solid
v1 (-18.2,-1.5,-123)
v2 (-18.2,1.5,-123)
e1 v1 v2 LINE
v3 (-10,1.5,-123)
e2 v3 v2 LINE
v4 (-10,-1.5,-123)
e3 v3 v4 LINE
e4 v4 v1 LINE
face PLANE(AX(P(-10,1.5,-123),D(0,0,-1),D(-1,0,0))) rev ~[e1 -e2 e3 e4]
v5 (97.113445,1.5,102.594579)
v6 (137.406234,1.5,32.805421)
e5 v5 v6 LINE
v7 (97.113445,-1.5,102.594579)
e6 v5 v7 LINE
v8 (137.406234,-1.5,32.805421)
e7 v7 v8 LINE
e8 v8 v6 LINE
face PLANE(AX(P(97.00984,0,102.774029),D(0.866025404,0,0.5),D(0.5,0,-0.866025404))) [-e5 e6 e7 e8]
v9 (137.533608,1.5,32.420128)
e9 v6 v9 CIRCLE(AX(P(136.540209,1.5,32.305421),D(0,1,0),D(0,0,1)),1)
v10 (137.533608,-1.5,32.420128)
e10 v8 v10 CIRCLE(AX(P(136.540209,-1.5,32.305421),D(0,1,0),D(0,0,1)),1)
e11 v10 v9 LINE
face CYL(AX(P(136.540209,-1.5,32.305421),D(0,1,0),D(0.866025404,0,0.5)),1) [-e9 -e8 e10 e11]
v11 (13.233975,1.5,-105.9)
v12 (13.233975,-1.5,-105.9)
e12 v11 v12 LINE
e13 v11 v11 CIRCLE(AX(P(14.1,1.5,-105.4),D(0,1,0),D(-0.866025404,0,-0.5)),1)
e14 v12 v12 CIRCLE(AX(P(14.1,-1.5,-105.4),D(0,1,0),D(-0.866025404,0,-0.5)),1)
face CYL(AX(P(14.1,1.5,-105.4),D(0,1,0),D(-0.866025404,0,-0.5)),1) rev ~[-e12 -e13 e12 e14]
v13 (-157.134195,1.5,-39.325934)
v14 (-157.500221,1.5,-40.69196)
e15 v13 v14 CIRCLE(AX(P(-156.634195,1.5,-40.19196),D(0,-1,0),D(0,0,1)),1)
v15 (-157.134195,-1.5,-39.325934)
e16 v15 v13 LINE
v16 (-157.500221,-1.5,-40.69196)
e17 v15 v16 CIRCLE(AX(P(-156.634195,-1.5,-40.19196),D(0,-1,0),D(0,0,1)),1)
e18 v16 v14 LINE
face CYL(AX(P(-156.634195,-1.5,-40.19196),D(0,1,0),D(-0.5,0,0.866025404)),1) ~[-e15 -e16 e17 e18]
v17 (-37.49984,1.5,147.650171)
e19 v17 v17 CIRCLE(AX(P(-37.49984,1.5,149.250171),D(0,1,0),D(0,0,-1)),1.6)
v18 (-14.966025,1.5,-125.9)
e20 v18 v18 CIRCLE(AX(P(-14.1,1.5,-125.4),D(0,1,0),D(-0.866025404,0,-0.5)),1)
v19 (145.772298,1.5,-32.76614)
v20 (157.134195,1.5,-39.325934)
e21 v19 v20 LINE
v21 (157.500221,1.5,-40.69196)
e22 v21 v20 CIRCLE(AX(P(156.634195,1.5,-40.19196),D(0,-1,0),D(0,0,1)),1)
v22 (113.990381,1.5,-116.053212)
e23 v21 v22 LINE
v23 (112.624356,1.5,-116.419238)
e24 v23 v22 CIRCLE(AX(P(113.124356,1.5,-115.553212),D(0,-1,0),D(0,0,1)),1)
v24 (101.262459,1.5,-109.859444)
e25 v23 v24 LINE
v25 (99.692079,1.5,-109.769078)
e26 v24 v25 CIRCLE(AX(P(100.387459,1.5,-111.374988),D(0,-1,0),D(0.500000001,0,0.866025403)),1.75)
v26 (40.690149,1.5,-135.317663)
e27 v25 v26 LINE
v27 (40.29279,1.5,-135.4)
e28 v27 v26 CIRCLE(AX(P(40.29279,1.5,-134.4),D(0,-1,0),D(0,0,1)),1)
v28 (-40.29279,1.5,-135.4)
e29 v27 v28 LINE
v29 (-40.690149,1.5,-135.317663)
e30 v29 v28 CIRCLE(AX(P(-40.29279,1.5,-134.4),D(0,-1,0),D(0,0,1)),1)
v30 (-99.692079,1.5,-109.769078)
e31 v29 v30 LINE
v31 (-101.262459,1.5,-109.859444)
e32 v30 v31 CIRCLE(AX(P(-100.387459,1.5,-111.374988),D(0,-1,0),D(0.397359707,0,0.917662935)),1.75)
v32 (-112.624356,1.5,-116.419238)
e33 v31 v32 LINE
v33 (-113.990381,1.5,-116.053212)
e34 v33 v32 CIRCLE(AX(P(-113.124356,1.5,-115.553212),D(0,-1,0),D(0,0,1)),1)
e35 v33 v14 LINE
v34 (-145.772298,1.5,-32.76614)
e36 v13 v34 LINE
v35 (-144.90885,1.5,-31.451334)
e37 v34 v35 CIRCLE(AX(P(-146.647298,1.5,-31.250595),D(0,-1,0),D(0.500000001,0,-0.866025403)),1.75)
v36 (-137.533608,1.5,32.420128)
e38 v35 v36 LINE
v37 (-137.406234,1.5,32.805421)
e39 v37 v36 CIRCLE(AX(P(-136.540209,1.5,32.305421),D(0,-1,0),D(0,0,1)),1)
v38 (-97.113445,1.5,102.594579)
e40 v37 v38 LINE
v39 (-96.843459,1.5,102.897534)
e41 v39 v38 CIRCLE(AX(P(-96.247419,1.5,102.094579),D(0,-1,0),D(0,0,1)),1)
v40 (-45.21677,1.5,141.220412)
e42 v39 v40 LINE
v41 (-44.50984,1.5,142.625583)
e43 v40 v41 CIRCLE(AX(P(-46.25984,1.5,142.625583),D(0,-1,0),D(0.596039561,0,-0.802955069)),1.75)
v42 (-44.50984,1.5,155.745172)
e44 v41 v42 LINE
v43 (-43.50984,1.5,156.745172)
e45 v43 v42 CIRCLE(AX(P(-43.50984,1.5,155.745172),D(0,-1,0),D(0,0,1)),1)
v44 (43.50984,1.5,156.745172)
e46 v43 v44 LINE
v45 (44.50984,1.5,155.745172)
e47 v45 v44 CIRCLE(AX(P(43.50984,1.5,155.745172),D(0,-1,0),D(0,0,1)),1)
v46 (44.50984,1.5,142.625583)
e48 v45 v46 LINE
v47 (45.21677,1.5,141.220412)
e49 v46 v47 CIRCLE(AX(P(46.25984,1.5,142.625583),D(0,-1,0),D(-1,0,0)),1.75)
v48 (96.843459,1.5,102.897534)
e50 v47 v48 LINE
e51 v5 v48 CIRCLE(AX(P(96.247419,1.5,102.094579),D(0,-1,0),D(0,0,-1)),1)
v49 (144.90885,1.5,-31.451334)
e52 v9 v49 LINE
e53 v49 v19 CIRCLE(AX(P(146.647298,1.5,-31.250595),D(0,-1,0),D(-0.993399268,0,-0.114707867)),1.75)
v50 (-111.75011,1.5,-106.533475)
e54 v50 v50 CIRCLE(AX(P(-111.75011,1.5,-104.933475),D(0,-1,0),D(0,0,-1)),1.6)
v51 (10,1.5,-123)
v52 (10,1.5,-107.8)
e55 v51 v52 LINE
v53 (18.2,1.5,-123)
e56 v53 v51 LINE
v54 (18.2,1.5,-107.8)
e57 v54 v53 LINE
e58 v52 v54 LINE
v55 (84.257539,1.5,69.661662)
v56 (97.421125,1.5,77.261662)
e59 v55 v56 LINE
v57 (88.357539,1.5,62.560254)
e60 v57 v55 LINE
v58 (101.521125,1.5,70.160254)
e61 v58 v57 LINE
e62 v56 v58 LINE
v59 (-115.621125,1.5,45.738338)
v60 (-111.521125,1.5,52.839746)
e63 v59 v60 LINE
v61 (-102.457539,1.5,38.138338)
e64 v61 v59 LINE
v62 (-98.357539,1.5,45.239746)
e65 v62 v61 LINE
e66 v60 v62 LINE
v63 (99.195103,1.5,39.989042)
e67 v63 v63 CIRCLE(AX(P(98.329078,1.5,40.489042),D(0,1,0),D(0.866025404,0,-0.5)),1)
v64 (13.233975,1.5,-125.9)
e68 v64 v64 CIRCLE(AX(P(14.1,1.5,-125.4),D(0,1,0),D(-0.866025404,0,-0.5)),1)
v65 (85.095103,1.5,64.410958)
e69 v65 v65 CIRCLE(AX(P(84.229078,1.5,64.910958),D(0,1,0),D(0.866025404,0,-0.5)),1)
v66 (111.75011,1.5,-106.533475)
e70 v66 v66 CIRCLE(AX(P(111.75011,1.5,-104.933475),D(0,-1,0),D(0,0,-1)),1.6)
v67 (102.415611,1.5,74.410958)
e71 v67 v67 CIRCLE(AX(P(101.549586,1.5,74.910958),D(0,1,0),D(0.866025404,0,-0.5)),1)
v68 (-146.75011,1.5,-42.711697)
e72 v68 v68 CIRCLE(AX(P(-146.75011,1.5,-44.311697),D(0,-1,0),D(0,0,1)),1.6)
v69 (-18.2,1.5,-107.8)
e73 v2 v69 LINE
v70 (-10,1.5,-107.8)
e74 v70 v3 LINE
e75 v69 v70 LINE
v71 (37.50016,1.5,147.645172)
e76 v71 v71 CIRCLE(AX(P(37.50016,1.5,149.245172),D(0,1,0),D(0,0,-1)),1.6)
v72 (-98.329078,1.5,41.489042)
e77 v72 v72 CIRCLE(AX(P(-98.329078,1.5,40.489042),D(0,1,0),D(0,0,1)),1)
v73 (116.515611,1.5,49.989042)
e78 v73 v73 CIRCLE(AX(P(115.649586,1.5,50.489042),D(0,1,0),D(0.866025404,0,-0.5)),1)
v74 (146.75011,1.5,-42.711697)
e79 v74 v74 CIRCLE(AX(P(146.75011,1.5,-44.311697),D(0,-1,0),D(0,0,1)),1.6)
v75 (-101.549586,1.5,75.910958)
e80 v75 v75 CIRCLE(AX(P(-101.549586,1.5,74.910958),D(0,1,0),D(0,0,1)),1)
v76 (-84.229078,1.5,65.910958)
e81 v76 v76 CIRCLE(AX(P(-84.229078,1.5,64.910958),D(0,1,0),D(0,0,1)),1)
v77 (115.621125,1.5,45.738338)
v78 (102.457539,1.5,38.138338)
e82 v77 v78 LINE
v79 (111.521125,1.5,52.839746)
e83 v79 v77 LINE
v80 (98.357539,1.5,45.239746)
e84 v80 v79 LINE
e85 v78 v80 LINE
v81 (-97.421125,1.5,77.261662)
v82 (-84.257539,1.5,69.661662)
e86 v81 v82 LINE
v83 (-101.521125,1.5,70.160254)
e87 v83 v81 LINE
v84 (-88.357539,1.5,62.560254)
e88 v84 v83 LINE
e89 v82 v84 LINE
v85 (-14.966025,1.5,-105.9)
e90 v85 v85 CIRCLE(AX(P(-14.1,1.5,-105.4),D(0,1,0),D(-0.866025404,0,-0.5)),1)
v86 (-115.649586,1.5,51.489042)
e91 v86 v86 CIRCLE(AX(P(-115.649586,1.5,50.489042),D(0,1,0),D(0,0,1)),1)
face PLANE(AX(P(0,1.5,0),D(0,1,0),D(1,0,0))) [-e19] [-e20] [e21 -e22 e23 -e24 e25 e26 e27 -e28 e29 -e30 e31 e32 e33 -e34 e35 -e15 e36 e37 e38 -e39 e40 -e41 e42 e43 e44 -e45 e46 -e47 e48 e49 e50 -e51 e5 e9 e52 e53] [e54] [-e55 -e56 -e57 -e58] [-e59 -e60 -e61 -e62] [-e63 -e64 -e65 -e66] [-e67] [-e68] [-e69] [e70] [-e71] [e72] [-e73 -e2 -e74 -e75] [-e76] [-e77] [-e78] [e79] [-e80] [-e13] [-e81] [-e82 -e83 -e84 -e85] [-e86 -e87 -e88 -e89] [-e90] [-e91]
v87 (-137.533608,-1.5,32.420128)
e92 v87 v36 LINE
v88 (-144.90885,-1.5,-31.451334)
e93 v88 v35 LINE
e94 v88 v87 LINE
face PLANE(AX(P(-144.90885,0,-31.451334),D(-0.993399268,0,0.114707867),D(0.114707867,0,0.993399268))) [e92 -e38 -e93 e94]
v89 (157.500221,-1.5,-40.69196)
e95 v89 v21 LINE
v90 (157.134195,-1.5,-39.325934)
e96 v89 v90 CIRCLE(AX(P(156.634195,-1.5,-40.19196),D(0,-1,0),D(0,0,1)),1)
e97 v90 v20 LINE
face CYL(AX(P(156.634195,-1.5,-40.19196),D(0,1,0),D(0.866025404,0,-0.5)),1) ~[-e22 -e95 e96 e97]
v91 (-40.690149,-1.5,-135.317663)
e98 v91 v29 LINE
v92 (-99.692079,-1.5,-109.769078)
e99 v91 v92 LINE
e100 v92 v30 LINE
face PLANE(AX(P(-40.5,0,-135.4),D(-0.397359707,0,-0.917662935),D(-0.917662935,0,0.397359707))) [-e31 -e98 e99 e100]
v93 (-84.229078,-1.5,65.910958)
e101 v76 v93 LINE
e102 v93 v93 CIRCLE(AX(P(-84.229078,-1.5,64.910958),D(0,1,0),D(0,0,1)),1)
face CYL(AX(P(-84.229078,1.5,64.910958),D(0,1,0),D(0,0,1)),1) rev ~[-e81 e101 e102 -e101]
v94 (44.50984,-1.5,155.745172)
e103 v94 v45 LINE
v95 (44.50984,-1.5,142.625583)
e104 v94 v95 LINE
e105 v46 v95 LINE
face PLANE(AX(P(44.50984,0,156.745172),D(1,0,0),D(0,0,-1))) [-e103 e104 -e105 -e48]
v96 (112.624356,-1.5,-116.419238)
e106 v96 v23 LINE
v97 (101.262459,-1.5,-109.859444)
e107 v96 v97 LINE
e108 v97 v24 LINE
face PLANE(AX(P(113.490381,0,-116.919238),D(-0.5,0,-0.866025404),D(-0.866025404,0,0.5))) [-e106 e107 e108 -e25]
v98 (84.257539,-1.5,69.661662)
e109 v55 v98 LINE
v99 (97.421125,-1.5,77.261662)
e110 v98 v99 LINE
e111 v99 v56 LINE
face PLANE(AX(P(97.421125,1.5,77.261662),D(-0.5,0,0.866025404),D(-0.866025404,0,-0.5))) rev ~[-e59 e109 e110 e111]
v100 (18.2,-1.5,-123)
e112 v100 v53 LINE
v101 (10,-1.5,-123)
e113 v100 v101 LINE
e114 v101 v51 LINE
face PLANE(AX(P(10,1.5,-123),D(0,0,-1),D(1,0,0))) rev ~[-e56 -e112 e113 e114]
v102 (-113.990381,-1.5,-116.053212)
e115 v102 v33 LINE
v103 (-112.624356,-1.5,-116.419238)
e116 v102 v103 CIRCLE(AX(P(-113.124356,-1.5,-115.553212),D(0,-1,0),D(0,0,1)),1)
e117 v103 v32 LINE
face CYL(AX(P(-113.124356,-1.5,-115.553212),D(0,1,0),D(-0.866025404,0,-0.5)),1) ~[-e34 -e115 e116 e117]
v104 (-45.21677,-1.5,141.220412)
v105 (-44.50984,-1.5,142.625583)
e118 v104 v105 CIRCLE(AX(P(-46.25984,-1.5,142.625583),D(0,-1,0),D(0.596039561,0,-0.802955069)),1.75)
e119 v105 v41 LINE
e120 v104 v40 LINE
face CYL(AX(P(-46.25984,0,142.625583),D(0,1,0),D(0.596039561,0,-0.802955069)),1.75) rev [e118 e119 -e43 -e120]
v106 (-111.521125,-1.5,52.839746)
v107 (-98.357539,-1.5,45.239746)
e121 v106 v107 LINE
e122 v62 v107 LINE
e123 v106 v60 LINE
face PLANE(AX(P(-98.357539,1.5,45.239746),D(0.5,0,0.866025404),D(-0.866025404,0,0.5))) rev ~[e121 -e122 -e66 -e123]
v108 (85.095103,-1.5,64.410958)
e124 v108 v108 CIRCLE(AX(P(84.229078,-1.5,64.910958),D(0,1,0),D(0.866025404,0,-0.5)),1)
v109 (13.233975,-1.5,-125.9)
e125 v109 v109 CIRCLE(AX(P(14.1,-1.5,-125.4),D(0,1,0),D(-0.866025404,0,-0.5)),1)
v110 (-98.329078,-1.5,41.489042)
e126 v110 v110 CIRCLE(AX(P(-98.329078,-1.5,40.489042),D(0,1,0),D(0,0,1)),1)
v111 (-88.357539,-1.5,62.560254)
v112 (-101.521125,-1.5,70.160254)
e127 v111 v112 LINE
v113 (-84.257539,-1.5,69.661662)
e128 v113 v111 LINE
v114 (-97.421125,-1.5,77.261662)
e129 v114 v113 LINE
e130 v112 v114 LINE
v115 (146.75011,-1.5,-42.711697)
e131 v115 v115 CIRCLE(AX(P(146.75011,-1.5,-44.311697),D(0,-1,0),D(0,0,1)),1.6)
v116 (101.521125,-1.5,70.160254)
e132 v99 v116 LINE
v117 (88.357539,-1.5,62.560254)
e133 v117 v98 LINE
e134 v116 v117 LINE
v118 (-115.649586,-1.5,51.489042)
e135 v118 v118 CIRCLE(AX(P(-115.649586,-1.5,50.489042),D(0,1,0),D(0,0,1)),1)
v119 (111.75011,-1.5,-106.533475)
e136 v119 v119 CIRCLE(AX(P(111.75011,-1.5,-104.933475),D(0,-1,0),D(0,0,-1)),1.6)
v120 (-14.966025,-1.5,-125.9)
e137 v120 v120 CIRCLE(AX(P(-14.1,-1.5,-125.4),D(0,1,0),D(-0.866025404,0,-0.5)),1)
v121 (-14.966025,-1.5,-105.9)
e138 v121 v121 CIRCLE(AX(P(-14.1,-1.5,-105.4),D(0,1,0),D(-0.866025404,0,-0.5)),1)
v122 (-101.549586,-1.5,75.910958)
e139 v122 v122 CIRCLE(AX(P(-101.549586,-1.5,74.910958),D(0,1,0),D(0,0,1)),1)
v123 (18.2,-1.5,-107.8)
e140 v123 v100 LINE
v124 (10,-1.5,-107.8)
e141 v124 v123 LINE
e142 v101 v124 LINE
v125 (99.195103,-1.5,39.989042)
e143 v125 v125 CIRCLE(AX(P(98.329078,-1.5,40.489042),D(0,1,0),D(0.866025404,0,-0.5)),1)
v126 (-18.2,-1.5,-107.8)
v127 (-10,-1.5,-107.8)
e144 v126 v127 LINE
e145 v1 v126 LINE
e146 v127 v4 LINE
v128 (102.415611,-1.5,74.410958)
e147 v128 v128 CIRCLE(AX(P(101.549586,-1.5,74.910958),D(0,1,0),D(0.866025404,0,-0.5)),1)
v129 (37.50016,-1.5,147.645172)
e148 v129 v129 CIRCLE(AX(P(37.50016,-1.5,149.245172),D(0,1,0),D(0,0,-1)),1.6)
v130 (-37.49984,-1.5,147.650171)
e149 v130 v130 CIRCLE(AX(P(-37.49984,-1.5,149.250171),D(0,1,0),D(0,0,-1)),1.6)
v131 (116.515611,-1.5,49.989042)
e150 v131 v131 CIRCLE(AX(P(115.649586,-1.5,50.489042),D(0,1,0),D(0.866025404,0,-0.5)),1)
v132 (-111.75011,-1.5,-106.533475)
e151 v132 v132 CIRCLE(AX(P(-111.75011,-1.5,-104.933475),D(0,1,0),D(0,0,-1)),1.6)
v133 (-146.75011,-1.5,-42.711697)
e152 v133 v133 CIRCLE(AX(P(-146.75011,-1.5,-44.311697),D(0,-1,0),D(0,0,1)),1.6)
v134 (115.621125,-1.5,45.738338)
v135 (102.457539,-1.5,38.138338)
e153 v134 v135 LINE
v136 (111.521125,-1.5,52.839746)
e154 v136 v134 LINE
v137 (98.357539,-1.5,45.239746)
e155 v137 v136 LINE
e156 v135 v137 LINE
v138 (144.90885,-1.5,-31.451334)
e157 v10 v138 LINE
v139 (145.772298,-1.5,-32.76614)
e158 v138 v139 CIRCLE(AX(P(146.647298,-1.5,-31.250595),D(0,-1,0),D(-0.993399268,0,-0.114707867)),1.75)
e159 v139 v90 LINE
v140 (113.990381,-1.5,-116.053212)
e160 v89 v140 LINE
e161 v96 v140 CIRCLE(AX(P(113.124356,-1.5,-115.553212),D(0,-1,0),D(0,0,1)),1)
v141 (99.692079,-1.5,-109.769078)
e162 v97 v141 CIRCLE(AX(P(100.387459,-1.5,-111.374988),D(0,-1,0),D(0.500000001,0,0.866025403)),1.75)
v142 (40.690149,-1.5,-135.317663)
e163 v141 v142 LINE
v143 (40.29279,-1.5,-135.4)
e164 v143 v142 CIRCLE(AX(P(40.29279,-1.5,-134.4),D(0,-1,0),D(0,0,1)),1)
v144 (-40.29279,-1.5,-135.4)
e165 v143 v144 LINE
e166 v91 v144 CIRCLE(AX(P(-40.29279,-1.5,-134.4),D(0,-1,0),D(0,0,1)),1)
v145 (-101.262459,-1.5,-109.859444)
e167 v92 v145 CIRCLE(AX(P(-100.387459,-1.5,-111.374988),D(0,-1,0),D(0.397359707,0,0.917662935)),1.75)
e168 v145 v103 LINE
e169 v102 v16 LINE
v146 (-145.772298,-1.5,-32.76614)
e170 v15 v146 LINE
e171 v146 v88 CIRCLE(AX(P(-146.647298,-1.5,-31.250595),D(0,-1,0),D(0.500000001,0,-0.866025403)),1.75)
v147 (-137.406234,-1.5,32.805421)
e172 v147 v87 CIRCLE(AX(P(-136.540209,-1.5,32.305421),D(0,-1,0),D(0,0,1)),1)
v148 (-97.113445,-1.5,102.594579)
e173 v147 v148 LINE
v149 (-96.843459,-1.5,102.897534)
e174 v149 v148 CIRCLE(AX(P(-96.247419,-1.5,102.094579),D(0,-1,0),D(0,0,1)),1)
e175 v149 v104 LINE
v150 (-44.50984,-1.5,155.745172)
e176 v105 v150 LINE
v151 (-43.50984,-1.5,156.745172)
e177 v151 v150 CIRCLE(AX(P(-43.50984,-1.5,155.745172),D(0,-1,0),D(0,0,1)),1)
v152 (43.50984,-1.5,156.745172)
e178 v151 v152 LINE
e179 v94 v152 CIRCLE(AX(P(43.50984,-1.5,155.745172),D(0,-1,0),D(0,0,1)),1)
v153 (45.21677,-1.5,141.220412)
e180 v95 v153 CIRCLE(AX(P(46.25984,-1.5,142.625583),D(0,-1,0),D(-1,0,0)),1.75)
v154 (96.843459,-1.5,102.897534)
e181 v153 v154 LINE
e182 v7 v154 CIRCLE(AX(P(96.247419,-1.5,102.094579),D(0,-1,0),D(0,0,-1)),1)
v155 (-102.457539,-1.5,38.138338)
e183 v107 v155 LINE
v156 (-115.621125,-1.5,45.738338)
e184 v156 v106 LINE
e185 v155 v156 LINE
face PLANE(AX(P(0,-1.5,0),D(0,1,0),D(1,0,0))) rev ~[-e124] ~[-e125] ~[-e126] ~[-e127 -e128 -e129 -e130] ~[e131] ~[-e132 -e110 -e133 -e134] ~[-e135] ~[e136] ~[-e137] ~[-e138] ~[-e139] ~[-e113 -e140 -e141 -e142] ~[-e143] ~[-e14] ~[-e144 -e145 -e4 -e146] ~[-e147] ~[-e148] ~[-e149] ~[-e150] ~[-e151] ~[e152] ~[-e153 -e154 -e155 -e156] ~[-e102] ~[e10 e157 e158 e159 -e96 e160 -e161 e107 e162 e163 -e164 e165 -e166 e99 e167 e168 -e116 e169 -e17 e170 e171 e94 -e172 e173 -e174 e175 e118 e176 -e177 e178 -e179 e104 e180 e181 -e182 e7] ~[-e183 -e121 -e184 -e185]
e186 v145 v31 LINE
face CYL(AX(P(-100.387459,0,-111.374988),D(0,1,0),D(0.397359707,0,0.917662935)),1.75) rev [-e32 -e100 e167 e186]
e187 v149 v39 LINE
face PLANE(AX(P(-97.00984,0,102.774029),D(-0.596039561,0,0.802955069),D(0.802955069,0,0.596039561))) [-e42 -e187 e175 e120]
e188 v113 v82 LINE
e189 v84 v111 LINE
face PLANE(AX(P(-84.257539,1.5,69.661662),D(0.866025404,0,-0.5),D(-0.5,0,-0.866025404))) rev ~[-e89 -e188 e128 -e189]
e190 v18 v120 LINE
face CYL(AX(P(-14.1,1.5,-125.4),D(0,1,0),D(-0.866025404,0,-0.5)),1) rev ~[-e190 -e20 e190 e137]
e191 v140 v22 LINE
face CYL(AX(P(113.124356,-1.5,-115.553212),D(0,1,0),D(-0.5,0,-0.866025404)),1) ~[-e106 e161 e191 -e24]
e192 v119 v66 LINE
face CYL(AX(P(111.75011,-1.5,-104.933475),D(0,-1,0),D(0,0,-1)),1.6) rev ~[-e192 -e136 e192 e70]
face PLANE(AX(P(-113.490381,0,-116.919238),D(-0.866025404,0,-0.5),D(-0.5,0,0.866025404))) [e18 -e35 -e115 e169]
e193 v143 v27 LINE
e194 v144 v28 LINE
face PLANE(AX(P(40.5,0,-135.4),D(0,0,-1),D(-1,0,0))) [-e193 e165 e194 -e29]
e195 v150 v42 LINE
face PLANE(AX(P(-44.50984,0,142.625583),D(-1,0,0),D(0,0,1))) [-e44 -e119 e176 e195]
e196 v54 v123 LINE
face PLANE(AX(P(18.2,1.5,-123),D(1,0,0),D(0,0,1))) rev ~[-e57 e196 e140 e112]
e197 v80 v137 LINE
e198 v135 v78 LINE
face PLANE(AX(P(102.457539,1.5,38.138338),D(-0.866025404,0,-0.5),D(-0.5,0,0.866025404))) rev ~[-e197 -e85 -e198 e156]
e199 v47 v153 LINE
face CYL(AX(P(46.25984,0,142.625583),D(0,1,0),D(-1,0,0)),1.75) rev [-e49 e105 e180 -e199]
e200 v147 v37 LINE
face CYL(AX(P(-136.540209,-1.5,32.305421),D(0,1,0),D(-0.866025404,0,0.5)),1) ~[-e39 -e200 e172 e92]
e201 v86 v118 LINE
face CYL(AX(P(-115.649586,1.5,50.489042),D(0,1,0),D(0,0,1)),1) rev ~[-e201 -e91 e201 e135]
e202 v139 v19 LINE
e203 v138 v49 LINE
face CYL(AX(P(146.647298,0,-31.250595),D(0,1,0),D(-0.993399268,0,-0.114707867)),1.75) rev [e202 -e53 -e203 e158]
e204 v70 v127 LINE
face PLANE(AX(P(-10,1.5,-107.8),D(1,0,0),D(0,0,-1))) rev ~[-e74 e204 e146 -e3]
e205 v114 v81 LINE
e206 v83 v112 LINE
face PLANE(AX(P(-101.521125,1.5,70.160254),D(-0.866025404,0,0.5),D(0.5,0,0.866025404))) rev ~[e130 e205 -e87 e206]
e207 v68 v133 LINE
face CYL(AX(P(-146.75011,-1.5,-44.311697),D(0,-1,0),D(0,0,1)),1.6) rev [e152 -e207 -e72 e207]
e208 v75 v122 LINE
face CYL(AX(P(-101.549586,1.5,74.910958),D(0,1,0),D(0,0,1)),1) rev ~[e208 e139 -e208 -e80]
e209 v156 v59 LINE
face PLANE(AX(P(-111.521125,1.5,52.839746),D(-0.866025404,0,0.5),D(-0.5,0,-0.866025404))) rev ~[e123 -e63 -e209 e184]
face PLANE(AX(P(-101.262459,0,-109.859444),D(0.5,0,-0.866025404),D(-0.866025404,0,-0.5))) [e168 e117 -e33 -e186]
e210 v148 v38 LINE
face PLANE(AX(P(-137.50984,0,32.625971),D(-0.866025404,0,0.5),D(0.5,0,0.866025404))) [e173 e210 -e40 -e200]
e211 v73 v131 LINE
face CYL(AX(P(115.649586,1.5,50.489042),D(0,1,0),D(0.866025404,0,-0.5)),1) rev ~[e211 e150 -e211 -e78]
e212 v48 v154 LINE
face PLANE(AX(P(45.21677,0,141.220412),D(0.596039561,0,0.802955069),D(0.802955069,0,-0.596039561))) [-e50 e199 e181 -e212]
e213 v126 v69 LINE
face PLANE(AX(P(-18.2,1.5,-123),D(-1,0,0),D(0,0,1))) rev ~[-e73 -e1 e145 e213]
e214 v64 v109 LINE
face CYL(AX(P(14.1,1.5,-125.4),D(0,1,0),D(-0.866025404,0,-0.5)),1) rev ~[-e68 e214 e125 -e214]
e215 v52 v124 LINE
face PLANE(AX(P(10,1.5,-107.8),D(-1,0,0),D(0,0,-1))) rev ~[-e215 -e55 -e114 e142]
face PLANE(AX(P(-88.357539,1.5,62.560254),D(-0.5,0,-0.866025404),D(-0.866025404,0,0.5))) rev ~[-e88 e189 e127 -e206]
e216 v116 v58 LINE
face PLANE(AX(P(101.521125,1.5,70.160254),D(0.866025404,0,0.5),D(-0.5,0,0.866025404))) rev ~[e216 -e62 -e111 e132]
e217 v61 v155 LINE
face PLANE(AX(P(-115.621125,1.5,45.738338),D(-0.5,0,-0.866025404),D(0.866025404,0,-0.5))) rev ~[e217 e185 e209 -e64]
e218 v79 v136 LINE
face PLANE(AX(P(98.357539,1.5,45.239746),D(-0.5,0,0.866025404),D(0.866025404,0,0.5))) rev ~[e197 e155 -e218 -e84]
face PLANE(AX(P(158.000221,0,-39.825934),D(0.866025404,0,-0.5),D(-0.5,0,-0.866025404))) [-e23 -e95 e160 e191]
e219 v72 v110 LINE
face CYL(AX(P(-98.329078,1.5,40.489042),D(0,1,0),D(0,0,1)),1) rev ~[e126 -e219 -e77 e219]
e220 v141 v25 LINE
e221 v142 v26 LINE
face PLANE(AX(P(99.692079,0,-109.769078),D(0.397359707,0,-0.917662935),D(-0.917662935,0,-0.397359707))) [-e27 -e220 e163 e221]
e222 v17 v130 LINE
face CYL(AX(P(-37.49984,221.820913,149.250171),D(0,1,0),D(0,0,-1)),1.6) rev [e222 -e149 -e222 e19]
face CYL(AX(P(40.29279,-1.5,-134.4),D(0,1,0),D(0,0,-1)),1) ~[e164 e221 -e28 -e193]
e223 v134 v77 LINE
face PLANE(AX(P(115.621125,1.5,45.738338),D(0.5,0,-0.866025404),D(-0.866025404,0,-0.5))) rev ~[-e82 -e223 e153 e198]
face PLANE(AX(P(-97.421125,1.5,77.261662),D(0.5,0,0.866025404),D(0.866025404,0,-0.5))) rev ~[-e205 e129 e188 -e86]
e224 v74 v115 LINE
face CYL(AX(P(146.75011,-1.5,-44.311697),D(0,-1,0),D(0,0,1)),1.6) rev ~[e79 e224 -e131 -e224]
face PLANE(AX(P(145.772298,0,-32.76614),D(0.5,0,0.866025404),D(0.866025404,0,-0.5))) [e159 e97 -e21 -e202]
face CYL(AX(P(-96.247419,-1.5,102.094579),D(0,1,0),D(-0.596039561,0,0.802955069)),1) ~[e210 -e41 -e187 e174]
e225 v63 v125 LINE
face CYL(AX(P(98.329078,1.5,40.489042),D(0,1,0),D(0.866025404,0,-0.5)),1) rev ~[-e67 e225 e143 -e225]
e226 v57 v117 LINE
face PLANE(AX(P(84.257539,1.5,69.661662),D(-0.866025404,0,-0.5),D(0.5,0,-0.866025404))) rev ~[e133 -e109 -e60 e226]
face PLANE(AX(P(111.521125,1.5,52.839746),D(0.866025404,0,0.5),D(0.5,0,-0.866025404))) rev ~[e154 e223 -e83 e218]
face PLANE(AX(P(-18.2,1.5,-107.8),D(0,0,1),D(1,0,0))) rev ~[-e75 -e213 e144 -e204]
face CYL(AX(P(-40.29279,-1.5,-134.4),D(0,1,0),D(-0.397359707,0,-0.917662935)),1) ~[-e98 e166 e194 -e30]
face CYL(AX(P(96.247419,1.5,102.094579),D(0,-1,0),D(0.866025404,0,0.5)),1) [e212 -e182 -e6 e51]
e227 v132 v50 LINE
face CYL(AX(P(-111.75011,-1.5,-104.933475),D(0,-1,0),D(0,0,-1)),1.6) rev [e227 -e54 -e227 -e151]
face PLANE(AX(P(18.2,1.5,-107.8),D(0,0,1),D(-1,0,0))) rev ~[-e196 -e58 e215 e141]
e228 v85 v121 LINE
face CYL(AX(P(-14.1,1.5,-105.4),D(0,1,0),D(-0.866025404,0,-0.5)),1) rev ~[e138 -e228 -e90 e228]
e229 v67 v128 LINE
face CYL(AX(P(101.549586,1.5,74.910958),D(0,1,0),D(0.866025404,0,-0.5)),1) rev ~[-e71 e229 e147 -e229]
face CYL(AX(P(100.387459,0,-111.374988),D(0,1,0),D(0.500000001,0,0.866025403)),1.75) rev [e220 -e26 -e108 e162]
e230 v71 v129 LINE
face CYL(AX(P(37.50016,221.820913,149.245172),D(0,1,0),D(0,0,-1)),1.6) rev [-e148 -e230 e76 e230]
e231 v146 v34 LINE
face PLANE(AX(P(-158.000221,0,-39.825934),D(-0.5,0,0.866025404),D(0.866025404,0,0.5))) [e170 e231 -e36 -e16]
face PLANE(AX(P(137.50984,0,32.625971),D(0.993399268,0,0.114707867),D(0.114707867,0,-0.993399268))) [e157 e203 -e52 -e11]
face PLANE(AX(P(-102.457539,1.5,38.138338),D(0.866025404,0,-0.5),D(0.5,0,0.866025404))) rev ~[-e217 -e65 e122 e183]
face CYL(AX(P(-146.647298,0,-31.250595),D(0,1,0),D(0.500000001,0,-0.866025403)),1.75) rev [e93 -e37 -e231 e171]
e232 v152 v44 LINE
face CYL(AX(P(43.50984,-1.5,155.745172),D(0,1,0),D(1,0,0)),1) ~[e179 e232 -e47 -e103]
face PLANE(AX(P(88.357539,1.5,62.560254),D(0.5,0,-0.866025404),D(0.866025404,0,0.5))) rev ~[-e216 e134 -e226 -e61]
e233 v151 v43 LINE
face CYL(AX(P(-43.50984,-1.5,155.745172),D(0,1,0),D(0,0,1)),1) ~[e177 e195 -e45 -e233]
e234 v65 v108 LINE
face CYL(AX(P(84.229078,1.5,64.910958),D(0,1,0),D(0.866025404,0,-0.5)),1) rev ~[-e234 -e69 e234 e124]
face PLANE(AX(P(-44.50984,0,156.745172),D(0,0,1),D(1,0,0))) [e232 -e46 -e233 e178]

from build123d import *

# Parameters (mm, degrees)
EXTRUDE_2_DEPTH          = 1.5
FILLET_1_R               = 1
SKETCH_3_R               = 1.6
CUT_EXTRUDE_1_DEPTH      = 223.320913296
CUT_EXTRUDE_2_DEPTH      = 223.320913296
CUT_EXTRUDE_2_DEPTH_BACK = 223.320913296
SKETCH_4_R               = 1.6
SKETCH_5_R               = 1
CUT_EXTRUDE_3_DEPTH      = 223.320913296
PATTERN_CIRCULAR_1_COUNT = 3


with BuildPart() as part:
    # ｽｹｯﾁ1 → ﾎﾞｽ - 押し出し2 (new, symmetric)
    with BuildSketch(Plane(origin=(0, 0, 0), x_dir=(1, 0, 0), z_dir=(0, 1, 0))):
        with BuildLine():
            Line((97.009839672, -102.774028853), (137.509839672, -32.625971147))
            Line((137.509839672, -32.625971147), (144.908849563, 31.451334131))
            ThreePointArc((144.908849563, 31.451334131), (145.184524529, 32.21121649), (145.772298281, 32.76613982))
            Line((145.772298281, 32.76613982), (158.000220729, 39.825934137))
            Line((158.000220729, 39.825934137), (113.490381057, 116.919237886))
            Line((113.490381057, 116.919237886), (101.262458609, 109.85944357))
            ThreePointArc((101.262458609, 109.85944357), (100.487994031, 109.627878233), (99.692079121, 109.769077889))
            Line((99.692079121, 109.769077889), (40.5, 135.4))
            Line((40.5, 135.4), (-40.5, 135.4))
            Line((-40.5, 135.4), (-99.692079121, 109.769077889))
            ThreePointArc((-99.692079121, 109.769077889), (-100.487994031, 109.627878233), (-101.262458609, 109.85944357))
            Line((-101.262458609, 109.85944357), (-113.490381057, 116.919237886))
            Line((-113.490381057, 116.919237886), (-158.000220729, 39.825934137))
            Line((-158.000220729, 39.825934137), (-145.772298281, 32.76613982))
            ThreePointArc((-145.772298281, 32.76613982), (-145.184524529, 32.21121649), (-144.908849563, 31.451334131))
            Line((-144.908849563, 31.451334131), (-137.509839672, -32.625971147))
            Line((-137.509839672, -32.625971147), (-97.009839672, -102.774028853))
            Line((-97.009839672, -102.774028853), (-45.216770441, -141.22041202))
            ThreePointArc((-45.216770441, -141.22041202), (-44.696530497, -141.839094723), (-44.509839672, -142.62558339))
            Line((-44.509839672, -142.62558339), (-44.509839672, -156.745172024))
            Line((-44.509839672, -156.745172024), (44.509839672, -156.745172024))
            Line((44.509839672, -156.745172024), (44.509839672, -142.62558339))
            ThreePointArc((44.509839672, -142.62558339), (44.696530497, -141.839094723), (45.216770441, -141.22041202))
            Line((45.216770441, -141.22041202), (97.009839672, -102.774028853))
        make_face()
    extrude(amount=EXTRUDE_2_DEPTH, both=True)

    # ﾌｨﾚｯﾄ1
    fillet_1_edges = [part.edges().sort_by_distance(p)[0] for p in [
        (-158.000220729, 0, -39.825934137),
        (-113.490381057, 0, -116.919237886),
        (113.490381057, 0, -116.919237886),
        (158.000220729, 0, -39.825934137),
        (-40.5, 0, -135.4),
        (40.5, 0, -135.4),
        (137.509839672, 0, 32.625971147),
        (97.009839672, 0, 102.774028853),
        (44.509839672, 0, 156.745172024),
        (-44.509839672, 0, 156.745172024),
        (-97.009839672, 0, 102.774028853),
        (-137.509839672, 0, 32.625971147),
    ]]
    fillet(fillet_1_edges, radius=FILLET_1_R)

    # ｽｹｯﾁ3 → ｶｯﾄ - 押し出し1 (cut, symmetric)
    with BuildSketch(Plane.XZ.offset(1.5)):
        with Locations((111.750110365, -104.933475144)):
            Circle(SKETCH_3_R)
        with Locations((146.750110365, -44.311696879)):
            Circle(SKETCH_3_R)
    cut_extrude_1 = extrude(amount=CUT_EXTRUDE_1_DEPTH, both=True, mode=Mode.SUBTRACT)

    # ﾐﾗｰ1: ｶｯﾄ - 押し出し1 across plane
    add(cut_extrude_1.mirror(Plane(origin=(0, 0, 0), x_dir=(0, 0, 1), z_dir=(1, 0, 0))), mode=Mode.SUBTRACT)

    # ｽｹｯﾁ4 → ｶｯﾄ - 押し出し2 (cut, two sides: drawn at the far end of the back side and taken through both)
    with BuildSketch(Plane.XZ.offset(1.5).offset(-CUT_EXTRUDE_2_DEPTH_BACK)):
        with Locations((37.500160328, 149.245172024)):
            Circle(SKETCH_4_R)
        with Locations((-37.499839672, 149.250171422)):
            Circle(SKETCH_4_R)
    extrude(amount=CUT_EXTRUDE_2_DEPTH + CUT_EXTRUDE_2_DEPTH_BACK, mode=Mode.SUBTRACT)

    # ｽｹｯﾁ5 → ｶｯﾄ - 押し出し3 (cut, symmetric)
    with BuildSketch(Plane(origin=(0, 1.5, 0), x_dir=(1, 0, 0), z_dir=(0, 1, 0))):
        with Locations((-98.329077559, -40.489041807)):
            Circle(SKETCH_5_R)
        with Locations((-115.649585635, -50.489041807)):
            Circle(SKETCH_5_R)
        with Locations((-101.549585635, -74.910958193)):
            Circle(SKETCH_5_R)
        with Locations((-84.229077559, -64.910958193)):
            Circle(SKETCH_5_R)
        Polygon((-115.621124665, -45.738337651), (-102.457538528, -38.138337651), (-98.357538528, -45.239745962), (-111.521124665, -52.839745962), align=None)
        Polygon((-101.521124665, -70.160254038), (-97.421124665, -77.261662349), (-84.257538528, -69.661662349), (-88.357538528, -62.560254038), align=None)
    cut_extrude_3 = extrude(amount=CUT_EXTRUDE_3_DEPTH, both=True, mode=Mode.SUBTRACT)

    # 円形ﾊﾟﾀｰﾝ1: ｶｯﾄ - 押し出し3 ×3 about axis
    pattern_circular_1_axis = Axis((0, 1.65, 0), (0, -1, 0))
    for i in range(1, PATTERN_CIRCULAR_1_COUNT):
        add(cut_extrude_3.rotate(pattern_circular_1_axis, i * 360 / PATTERN_CIRCULAR_1_COUNT), mode=Mode.SUBTRACT)


solid = part.part
